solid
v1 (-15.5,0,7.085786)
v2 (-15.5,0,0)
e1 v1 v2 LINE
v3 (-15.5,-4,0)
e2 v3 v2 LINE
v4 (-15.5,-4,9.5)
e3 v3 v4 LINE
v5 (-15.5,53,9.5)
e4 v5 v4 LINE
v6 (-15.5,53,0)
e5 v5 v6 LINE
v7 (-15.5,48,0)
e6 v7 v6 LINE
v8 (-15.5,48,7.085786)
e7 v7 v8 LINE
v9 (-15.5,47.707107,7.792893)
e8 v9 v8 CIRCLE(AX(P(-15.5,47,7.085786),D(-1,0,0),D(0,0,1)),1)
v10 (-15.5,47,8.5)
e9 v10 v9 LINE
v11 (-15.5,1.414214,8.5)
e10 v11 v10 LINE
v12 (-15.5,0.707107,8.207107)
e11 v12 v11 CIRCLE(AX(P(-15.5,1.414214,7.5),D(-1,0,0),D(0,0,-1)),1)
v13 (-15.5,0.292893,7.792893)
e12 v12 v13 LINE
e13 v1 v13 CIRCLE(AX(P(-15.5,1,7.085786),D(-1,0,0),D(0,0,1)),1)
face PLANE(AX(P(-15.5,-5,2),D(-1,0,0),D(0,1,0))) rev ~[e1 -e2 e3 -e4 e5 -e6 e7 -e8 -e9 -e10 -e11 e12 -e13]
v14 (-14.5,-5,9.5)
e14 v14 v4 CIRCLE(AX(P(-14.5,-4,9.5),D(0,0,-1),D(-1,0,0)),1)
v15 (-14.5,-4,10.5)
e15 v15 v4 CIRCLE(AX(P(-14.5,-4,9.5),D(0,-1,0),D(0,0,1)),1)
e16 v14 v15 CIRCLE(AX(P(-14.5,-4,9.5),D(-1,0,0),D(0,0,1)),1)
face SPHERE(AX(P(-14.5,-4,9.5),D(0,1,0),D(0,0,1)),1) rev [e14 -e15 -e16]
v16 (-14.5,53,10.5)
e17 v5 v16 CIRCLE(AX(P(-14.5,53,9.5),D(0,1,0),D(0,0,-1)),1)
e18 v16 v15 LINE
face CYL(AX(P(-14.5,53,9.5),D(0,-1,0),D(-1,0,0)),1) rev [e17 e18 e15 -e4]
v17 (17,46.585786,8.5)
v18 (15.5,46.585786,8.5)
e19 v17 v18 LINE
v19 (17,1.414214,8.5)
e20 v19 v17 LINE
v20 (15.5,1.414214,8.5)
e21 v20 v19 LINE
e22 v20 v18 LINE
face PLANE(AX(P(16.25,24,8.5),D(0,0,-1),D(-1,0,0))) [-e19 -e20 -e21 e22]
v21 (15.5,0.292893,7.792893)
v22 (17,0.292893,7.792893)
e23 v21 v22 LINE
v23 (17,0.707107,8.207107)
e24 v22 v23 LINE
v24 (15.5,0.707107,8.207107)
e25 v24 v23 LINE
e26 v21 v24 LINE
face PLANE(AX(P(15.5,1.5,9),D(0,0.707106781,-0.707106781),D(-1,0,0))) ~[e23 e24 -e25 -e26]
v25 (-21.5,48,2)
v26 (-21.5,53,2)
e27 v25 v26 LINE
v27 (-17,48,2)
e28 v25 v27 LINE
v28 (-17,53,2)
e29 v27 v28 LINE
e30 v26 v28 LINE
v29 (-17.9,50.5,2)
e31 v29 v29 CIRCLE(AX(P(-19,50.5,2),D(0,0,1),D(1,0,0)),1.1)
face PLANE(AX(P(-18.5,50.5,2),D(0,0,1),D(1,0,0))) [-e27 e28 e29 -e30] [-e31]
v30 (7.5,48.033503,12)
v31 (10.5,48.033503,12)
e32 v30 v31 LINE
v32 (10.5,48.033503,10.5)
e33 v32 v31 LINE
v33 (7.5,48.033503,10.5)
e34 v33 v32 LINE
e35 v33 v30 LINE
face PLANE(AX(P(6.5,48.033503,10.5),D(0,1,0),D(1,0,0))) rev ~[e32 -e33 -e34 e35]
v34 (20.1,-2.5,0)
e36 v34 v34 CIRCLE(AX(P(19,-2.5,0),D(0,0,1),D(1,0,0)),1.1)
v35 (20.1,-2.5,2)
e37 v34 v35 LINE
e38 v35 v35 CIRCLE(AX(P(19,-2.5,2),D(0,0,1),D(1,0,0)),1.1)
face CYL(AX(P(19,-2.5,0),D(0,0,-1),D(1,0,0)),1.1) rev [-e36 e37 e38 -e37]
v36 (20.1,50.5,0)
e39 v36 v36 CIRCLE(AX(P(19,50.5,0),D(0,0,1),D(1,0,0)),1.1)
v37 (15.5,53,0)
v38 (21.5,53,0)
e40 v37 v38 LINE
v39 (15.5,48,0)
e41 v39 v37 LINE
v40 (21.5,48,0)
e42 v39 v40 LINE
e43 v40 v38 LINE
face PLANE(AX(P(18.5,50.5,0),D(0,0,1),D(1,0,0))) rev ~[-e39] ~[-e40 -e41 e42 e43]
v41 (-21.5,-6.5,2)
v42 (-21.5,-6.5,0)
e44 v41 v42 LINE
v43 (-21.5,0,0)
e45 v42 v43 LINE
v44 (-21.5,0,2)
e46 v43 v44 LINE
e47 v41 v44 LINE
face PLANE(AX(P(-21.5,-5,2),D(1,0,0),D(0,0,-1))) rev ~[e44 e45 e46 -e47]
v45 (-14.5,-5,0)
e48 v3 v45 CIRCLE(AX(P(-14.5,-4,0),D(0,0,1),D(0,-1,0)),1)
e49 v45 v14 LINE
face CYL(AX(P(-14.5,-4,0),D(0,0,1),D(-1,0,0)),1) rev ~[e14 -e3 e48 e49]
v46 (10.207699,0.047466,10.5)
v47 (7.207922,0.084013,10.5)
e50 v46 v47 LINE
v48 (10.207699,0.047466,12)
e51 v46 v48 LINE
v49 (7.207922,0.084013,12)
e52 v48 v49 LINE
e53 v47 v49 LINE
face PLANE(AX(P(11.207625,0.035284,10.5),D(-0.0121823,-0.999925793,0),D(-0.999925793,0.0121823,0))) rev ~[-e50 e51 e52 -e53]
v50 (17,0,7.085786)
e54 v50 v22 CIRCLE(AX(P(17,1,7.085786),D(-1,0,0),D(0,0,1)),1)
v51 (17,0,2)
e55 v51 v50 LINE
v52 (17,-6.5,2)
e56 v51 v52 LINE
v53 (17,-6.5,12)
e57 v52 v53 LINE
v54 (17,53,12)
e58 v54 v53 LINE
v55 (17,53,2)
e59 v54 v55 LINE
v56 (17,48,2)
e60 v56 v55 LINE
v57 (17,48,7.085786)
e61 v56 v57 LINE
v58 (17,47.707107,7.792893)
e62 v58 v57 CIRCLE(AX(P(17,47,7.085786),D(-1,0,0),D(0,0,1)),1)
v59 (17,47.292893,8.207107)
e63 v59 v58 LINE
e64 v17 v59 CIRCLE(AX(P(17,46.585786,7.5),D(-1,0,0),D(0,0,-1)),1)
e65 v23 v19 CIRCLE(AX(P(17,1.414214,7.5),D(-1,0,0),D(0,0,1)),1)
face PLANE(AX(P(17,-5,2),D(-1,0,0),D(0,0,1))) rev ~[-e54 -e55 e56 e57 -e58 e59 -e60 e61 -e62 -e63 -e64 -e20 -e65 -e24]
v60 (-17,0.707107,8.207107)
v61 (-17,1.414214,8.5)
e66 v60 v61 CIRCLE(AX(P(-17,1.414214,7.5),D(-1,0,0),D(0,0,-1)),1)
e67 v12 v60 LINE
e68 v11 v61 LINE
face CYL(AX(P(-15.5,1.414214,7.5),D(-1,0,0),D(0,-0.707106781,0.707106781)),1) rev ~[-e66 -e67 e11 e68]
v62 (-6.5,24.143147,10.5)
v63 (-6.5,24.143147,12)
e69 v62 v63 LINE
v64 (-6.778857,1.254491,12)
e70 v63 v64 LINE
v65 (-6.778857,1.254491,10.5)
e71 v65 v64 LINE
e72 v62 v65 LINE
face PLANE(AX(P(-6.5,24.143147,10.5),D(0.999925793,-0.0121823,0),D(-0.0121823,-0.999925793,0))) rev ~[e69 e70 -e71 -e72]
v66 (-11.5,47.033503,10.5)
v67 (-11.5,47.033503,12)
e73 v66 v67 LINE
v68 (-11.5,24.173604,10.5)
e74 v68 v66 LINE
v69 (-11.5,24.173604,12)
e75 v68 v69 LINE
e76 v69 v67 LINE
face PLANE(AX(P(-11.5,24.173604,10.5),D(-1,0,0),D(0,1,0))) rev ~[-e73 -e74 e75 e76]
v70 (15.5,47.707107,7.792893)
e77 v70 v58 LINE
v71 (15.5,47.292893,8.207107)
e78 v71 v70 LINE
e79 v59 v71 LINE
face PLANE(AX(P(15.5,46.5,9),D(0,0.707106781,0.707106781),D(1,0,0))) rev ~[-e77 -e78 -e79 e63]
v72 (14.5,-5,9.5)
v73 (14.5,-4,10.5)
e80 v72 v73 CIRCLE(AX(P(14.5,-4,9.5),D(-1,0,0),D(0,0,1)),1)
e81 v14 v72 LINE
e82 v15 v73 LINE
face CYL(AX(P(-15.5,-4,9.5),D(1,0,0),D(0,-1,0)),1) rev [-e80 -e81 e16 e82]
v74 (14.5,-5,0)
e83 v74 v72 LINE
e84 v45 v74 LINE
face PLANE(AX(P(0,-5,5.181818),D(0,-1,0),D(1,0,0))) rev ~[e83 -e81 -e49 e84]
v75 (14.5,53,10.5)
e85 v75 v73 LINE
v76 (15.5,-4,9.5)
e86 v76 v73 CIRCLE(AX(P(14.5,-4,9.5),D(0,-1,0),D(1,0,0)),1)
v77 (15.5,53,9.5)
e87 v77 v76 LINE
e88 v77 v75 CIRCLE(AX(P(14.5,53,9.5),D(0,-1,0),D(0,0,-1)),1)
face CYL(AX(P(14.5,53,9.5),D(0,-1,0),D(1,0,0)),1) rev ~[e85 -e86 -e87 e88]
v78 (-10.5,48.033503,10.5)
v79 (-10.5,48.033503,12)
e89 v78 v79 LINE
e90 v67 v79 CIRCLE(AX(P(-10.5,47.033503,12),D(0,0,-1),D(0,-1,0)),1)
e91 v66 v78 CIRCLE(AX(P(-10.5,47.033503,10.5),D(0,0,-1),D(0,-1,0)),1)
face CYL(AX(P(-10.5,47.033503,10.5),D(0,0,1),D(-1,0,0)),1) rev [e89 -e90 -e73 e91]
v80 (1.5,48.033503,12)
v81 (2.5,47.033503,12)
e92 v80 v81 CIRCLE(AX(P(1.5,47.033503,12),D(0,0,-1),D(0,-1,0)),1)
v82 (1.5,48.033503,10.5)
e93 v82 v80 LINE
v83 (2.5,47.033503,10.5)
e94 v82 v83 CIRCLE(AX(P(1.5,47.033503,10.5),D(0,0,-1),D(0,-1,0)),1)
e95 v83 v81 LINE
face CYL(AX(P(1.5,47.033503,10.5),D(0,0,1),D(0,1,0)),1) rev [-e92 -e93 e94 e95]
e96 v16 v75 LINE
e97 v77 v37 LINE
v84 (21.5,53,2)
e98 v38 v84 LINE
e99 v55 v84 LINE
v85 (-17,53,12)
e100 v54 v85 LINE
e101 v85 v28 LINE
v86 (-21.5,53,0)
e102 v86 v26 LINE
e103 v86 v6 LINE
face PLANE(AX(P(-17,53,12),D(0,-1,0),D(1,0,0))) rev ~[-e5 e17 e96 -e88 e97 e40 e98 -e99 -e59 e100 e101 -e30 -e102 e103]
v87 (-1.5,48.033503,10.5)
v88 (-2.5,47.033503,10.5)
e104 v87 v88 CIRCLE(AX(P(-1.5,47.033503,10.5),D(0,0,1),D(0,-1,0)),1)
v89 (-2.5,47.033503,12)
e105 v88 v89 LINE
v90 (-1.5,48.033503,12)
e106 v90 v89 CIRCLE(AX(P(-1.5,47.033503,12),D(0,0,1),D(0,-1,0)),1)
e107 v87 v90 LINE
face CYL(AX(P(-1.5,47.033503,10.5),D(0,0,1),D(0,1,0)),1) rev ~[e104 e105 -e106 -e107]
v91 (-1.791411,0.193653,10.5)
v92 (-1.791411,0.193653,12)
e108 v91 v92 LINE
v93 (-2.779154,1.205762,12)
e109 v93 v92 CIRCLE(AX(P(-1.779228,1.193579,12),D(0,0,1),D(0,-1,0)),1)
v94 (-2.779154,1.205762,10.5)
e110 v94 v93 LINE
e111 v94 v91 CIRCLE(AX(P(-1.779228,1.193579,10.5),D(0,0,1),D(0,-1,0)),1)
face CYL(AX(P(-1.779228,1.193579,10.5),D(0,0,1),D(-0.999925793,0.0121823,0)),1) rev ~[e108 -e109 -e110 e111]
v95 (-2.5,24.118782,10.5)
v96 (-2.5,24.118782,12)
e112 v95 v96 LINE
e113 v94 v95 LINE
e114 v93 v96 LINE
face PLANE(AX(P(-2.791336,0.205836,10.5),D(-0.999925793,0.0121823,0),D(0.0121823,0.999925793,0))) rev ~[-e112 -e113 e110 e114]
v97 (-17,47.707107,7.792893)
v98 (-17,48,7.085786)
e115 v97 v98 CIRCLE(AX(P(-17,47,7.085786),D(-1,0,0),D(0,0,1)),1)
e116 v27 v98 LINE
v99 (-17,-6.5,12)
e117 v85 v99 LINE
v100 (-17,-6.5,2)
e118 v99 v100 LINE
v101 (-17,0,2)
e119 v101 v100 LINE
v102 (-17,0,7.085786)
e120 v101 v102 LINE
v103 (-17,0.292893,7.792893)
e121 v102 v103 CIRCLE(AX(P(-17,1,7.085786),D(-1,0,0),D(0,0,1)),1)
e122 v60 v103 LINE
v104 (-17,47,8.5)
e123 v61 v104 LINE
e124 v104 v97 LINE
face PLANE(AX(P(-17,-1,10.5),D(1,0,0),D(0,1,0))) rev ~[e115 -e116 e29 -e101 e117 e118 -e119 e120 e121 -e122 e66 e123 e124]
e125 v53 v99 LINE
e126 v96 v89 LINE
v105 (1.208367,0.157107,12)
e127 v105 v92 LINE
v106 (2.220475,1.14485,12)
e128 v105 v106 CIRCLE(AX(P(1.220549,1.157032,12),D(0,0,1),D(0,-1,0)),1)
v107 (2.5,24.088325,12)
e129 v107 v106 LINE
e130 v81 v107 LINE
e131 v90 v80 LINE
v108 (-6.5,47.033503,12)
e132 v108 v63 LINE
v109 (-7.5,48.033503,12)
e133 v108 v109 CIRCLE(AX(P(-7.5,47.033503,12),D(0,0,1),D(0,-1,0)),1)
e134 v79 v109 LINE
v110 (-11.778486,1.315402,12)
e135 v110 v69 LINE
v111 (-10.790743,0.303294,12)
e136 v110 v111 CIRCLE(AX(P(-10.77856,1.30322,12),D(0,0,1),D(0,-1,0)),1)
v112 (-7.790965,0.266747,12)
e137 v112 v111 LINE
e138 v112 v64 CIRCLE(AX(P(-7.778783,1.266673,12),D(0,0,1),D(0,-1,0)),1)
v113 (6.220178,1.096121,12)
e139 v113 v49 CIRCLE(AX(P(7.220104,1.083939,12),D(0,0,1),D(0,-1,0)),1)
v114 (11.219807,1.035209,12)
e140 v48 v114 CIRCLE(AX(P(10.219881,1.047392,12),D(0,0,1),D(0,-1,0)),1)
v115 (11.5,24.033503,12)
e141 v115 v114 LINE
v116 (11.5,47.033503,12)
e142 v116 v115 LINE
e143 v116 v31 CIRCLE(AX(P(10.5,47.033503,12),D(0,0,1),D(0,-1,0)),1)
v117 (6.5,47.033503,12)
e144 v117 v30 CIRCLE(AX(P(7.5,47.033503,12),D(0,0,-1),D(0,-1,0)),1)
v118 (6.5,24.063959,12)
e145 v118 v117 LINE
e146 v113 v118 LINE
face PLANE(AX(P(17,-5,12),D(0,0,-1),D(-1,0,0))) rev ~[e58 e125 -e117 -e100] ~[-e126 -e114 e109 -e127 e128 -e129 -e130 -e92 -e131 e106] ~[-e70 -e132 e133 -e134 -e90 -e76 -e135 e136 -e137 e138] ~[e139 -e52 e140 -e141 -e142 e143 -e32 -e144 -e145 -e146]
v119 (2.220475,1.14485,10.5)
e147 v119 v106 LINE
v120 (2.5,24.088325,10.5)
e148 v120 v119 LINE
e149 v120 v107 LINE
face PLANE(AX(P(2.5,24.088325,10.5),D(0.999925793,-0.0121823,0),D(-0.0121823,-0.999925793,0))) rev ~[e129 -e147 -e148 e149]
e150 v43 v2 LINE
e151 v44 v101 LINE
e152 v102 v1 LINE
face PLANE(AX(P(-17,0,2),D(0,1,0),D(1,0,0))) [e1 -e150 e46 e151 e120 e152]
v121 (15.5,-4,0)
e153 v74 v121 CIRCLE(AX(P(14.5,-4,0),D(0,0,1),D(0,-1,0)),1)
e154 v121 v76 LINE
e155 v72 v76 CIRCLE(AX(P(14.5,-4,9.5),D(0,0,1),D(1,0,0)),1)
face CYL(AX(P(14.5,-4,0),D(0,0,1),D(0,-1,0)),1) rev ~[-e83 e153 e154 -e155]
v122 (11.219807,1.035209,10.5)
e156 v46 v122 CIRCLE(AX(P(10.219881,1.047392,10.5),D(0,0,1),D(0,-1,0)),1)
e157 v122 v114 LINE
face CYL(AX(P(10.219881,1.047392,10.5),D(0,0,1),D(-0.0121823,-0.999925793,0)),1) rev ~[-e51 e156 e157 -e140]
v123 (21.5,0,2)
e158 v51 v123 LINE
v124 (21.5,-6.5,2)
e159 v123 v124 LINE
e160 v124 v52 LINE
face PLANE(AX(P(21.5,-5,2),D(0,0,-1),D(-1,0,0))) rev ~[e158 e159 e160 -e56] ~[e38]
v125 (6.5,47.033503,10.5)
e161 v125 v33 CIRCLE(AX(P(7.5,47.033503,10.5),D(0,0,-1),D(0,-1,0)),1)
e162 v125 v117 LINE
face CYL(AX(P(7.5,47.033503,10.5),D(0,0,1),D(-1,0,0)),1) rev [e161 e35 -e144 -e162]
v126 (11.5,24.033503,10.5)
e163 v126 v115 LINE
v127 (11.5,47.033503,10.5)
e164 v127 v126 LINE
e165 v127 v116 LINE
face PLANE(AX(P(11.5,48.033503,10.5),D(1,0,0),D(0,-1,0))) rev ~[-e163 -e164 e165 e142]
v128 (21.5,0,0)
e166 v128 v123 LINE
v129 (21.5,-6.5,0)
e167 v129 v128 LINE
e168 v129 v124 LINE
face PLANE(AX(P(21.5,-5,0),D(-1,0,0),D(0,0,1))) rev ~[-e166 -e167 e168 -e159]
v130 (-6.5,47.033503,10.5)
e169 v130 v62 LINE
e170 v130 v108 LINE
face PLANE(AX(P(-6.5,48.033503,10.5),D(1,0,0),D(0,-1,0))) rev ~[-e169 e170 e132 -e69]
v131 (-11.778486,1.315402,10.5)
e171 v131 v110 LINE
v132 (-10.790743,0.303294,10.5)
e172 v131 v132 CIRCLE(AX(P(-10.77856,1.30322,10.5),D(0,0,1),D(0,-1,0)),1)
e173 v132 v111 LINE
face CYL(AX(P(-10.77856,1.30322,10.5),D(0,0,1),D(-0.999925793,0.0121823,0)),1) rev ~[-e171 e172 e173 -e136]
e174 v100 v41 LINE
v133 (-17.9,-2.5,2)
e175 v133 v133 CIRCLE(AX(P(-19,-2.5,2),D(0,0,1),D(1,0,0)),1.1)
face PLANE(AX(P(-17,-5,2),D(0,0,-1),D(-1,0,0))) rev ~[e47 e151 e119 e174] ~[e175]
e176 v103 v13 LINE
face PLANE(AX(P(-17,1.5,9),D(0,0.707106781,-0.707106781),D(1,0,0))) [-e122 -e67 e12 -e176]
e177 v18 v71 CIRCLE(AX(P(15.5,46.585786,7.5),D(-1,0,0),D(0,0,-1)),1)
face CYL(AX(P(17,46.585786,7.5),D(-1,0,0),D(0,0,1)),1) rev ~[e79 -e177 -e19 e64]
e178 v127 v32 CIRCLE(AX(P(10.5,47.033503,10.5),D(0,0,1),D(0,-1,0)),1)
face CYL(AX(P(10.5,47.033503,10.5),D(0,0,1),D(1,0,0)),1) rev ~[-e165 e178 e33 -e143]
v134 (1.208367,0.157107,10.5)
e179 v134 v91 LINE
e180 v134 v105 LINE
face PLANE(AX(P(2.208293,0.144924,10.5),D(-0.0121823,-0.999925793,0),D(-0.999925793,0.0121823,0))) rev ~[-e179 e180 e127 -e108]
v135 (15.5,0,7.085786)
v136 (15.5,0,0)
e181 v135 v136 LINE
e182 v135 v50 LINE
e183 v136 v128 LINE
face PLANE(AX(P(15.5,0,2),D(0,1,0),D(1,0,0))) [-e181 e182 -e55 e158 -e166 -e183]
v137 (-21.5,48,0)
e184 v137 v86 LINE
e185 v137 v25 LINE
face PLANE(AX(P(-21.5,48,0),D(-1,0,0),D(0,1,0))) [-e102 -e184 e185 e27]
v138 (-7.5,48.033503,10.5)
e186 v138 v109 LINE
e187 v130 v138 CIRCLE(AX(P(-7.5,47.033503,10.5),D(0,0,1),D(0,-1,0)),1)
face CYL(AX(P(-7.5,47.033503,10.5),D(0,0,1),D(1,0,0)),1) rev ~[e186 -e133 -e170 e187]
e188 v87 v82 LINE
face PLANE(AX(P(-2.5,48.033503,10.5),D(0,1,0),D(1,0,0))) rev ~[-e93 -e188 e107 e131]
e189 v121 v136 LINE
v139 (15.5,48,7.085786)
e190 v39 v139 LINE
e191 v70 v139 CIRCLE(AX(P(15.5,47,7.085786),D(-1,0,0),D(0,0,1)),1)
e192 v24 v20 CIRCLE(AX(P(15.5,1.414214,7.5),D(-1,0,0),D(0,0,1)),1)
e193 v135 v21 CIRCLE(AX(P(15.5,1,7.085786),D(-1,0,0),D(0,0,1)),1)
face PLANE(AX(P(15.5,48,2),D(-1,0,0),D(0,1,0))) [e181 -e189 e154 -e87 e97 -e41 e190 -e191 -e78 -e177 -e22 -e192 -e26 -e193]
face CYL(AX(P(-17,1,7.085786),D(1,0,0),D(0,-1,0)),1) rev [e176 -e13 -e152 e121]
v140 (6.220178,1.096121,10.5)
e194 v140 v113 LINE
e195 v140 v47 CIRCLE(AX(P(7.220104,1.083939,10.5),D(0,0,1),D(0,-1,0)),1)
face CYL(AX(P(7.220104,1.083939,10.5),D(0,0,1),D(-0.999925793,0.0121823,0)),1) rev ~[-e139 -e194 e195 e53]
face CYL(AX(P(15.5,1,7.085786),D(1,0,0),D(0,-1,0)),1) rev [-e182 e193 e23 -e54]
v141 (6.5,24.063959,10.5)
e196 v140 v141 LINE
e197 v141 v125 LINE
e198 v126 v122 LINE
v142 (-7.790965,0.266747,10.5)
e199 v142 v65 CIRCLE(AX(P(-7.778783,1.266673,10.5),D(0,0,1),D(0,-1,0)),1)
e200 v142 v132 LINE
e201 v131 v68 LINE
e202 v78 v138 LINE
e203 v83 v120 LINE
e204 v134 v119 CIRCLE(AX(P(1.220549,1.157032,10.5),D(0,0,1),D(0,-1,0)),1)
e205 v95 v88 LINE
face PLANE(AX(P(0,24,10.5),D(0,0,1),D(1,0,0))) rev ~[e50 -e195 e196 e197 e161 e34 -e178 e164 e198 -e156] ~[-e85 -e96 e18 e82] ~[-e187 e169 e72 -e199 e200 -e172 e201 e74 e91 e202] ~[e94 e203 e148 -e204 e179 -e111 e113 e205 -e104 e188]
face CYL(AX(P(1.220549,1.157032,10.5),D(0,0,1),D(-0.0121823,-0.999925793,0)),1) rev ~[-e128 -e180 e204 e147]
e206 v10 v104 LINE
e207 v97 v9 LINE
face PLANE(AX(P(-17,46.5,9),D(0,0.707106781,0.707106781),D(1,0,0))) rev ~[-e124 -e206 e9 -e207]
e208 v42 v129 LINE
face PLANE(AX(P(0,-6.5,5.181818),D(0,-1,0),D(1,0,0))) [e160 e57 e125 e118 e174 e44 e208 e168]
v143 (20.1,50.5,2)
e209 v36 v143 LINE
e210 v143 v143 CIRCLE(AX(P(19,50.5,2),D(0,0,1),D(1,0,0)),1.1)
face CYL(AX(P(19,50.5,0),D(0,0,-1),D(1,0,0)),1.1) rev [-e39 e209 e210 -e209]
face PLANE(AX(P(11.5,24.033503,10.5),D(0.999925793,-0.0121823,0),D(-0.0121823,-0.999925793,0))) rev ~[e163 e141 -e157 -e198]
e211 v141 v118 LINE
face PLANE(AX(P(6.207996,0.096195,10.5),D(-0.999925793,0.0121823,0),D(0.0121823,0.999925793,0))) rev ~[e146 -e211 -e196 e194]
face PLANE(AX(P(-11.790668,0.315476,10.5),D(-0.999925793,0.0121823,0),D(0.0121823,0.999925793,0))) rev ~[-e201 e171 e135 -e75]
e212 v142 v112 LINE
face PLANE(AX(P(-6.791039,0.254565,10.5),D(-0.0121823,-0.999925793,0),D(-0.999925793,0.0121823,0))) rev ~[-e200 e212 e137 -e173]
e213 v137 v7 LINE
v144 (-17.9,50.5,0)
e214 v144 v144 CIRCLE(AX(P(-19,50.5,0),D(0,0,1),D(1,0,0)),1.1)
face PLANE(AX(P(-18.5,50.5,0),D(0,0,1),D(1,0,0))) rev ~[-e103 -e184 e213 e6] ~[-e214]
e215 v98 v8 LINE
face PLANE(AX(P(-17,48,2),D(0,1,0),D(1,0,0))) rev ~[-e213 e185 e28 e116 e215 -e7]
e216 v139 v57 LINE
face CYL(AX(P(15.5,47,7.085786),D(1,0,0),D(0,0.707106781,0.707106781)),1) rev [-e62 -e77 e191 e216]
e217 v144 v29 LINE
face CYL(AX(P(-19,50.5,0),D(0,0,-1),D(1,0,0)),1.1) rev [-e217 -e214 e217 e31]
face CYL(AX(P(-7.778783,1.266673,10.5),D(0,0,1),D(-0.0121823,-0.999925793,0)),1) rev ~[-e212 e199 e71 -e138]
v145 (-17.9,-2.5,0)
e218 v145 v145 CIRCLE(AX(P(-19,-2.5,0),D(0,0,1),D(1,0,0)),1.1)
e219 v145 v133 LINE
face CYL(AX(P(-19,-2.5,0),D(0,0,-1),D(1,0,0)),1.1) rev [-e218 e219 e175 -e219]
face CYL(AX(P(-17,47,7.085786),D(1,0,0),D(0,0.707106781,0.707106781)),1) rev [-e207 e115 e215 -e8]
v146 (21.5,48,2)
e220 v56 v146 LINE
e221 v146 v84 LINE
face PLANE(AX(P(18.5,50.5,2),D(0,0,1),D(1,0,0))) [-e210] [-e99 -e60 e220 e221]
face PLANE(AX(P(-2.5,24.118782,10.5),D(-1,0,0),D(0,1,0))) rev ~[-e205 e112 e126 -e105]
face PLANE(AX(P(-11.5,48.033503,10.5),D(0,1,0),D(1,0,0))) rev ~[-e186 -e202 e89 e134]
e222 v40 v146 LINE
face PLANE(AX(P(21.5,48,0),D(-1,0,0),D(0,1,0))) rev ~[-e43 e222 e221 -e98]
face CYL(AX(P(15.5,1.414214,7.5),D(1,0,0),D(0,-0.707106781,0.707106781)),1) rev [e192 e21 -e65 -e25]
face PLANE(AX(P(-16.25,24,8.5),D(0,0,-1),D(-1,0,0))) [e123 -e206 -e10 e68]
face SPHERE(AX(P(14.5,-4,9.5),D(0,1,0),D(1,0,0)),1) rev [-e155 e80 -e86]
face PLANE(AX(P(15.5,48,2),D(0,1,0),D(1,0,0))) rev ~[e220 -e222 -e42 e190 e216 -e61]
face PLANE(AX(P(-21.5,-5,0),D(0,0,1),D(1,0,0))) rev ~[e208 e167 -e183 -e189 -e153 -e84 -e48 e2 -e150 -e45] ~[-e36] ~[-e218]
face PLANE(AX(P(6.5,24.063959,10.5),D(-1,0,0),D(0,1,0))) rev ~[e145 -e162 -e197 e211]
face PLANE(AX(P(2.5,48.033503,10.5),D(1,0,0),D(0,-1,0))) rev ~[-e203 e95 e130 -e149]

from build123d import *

# Parameters (mm, degrees)
SKETCH1_W             = 6
SKETCH1_H             = 5
SKETCH1_R             = 1.1
BOSS_EXTRUDE1_DEPTH   = 2
BOSS_EXTRUDE1_2_DEPTH = 2
BOSS_EXTRUDE1_3_DEPTH = 2
BOSS_EXTRUDE1_4_DEPTH = 2
SKETCH2_W             = 1.5
SKETCH2_H             = 5
BOSS_EXTRUDE2_DEPTH   = 10
SKETCH3_W             = 34
SKETCH3_H             = 58
BOSS_EXTRUDE3_DEPTH   = 1.5
BOSS_EXTRUDE4_DEPTH   = 1.5
CHAMFER1_SIZE         = 3
SKETCH5_W             = 1.5
SKETCH5_H             = 50
BOSS_EXTRUDE5_DEPTH   = 2
FILLET1_R             = 1
CUT_EXTRUDE1_DEPTH    = 2
FILLET2_R             = 1


with BuildPart() as part:
    # Sketch1 → Boss-Extrude1 (new body)
    with BuildSketch(Plane.XY):
        with Locations((18.5, 50.5)):
            Rectangle(SKETCH1_W, SKETCH1_H)
        with Locations((19, 50.5)):
            Circle(SKETCH1_R, mode=Mode.SUBTRACT)
    extrude(amount=BOSS_EXTRUDE1_DEPTH)



with BuildPart() as body_2:
    # Sketch1 → Boss-Extrude1 2 (new body)
    with BuildSketch(Plane.XY):
        with Locations((-18.5, 50.5)):
            Rectangle(SKETCH1_W, SKETCH1_H)
        with Locations((-19, 50.5)):
            Circle(SKETCH1_R, mode=Mode.SUBTRACT)
    extrude(amount=BOSS_EXTRUDE1_2_DEPTH)


with BuildPart() as body_3:
    # Sketch1 → Boss-Extrude1 3 (new body)
    with BuildSketch(Plane.XY):
        with Locations((18.5, -2.5)):
            Rectangle(SKETCH1_W, SKETCH1_H)
        with Locations((19, -2.5)):
            Circle(SKETCH1_R, mode=Mode.SUBTRACT)
    extrude(amount=BOSS_EXTRUDE1_3_DEPTH)


with BuildPart() as body_4:
    # Sketch1 → Boss-Extrude1 4 (new body)
    with BuildSketch(Plane.XY):
        with Locations((-18.5, -2.5)):
            Rectangle(SKETCH1_W, SKETCH1_H)
        with Locations((-19, -2.5)):
            Circle(SKETCH1_R, mode=Mode.SUBTRACT)
    extrude(amount=BOSS_EXTRUDE1_4_DEPTH)


with BuildPart() as part_1:
    add(part.part)

    add(body_2.part)  # Boss-Extrude2 merges body 2

    add(body_3.part)  # Boss-Extrude2 merges body 3

    add(body_4.part)  # Boss-Extrude2 merges body 4
    # Sketch2 → Boss-Extrude2 (add)
    with BuildSketch(Plane.XY.offset(2)):
        with Locations((16.25, 50.5)):
            Rectangle(SKETCH2_W, SKETCH2_H)
        with Locations((16.25, -2.5)):
            Rectangle(SKETCH2_W, SKETCH2_H)
        with Locations((-16.25, -2.5)):
            Rectangle(SKETCH2_W, SKETCH2_H)
        with Locations((-16.25, 50.5)):
            Rectangle(SKETCH2_W, SKETCH2_H)
    extrude(amount=BOSS_EXTRUDE2_DEPTH)

    # Sketch3 → Boss-Extrude3 (add)
    with BuildSketch(Plane.XY.offset(12)):
        with Locations((0, 24)):
            Rectangle(SKETCH3_W, SKETCH3_H)
    extrude(amount=-BOSS_EXTRUDE3_DEPTH)

    # Sketch4 → Boss-Extrude4 (add)
    with BuildSketch(Plane.XZ.offset(5)):
        Polygon((-15.5, 0), (15.5, 0), (21.5, 0), (21.5, 2), (17, 2), (17, 12), (-17, 12), (-17, 2), (-21.5, 2), (-21.5, 0), align=None)
    extrude(amount=BOSS_EXTRUDE4_DEPTH)

    # Chamfer1
    chamfer1_edges = [part_1.edges().sort_by_distance(p)[0] for p in [
        (16.25, 48, 10.5),
        (-16.25, 48, 10.5),
        (16.25, 0, 10.5),
        (-16.25, 0, 10.5),
    ]]
    chamfer(chamfer1_edges, length=CHAMFER1_SIZE)

    # Sketch5 → Boss-Extrude5 (add)
    with BuildSketch(Plane(origin=(0, 0, 10.5), x_dir=(-1, 0, 0), z_dir=(0, 0, -1))):
        with Locations((16.25, 24)):
            Rectangle(SKETCH5_W, SKETCH5_H)
        with Locations((-16.25, 24)):
            Rectangle(SKETCH5_W, SKETCH5_H)
    extrude(amount=BOSS_EXTRUDE5_DEPTH)

    # Fillet1
    fillet1_edges = [part_1.edges().sort_by_distance(p)[0] for p in [
        (-16.25, 0, 7.5),
        (-16.25, 48, 7.5),
        (16.25, 0, 7.5),
        (16.25, 48, 7.5),
        (16.25, 47, 8.5),
        (16.25, 1, 8.5),
        (-16.25, 1, 8.5),
        (15.5, 24, 10.5),
        (-15.5, 24, 10.5),
        (15.5, -5, 5.25),
        (0, -5, 10.5),
        (-15.5, -5, 5.25),
    ]]
    fillet(fillet1_edges, radius=FILLET1_R)

    # Sketch6 → Cut-Extrude1 (cut)
    with BuildSketch(Plane(origin=(0, 0, 10.5), x_dir=(-1, 0, 0), z_dir=(0, 0, -1))):
        Polygon((-6.5, 48.033502568), (-11.5, 48.033502568), (-11.5, 24.033502568), (-11.207624805, 0.035283535), (-6.207995839, 0.096195034), (-6.5, 24.063959447), align=None)
        Polygon((-2.5, 48.033502568), (-2.5, 24.088324951), (-2.208292667, 0.144924233), (2.791336298, 0.205835732), (2.5, 24.11878183), (2.5, 48.033502568), align=None)
        Polygon((11.5, 48.033502568), (6.5, 48.033502568), (6.5, 24.143147334), (6.79103947, 0.254564931), (11.790668435, 0.31547643), (11.5, 24.173604214), align=None)
    extrude(amount=-CUT_EXTRUDE1_DEPTH, mode=Mode.SUBTRACT)

    # Fillet2
    fillet2_edges = [part_1.edges().sort_by_distance(p)[0] for p in [
        (11.207624805, 0.035283535, 11.25),
        (11.5, 48.033502568, 11.25),
        (6.5, 48.033502568, 11.25),
        (6.207995839, 0.096195034, 11.25),
        (-2.791336298, 0.205835732, 11.25),
        (2.208292667, 0.144924233, 11.25),
        (2.5, 48.033502568, 11.25),
        (-2.5, 48.033502568, 11.25),
        (-6.79103947, 0.254564931, 11.25),
        (-6.5, 48.033502568, 11.25),
        (-11.5, 48.033502568, 11.25),
        (-11.790668435, 0.31547643, 11.25),
    ]]
    fillet(fillet2_edges, radius=FILLET2_R)


solid = part_1.part
